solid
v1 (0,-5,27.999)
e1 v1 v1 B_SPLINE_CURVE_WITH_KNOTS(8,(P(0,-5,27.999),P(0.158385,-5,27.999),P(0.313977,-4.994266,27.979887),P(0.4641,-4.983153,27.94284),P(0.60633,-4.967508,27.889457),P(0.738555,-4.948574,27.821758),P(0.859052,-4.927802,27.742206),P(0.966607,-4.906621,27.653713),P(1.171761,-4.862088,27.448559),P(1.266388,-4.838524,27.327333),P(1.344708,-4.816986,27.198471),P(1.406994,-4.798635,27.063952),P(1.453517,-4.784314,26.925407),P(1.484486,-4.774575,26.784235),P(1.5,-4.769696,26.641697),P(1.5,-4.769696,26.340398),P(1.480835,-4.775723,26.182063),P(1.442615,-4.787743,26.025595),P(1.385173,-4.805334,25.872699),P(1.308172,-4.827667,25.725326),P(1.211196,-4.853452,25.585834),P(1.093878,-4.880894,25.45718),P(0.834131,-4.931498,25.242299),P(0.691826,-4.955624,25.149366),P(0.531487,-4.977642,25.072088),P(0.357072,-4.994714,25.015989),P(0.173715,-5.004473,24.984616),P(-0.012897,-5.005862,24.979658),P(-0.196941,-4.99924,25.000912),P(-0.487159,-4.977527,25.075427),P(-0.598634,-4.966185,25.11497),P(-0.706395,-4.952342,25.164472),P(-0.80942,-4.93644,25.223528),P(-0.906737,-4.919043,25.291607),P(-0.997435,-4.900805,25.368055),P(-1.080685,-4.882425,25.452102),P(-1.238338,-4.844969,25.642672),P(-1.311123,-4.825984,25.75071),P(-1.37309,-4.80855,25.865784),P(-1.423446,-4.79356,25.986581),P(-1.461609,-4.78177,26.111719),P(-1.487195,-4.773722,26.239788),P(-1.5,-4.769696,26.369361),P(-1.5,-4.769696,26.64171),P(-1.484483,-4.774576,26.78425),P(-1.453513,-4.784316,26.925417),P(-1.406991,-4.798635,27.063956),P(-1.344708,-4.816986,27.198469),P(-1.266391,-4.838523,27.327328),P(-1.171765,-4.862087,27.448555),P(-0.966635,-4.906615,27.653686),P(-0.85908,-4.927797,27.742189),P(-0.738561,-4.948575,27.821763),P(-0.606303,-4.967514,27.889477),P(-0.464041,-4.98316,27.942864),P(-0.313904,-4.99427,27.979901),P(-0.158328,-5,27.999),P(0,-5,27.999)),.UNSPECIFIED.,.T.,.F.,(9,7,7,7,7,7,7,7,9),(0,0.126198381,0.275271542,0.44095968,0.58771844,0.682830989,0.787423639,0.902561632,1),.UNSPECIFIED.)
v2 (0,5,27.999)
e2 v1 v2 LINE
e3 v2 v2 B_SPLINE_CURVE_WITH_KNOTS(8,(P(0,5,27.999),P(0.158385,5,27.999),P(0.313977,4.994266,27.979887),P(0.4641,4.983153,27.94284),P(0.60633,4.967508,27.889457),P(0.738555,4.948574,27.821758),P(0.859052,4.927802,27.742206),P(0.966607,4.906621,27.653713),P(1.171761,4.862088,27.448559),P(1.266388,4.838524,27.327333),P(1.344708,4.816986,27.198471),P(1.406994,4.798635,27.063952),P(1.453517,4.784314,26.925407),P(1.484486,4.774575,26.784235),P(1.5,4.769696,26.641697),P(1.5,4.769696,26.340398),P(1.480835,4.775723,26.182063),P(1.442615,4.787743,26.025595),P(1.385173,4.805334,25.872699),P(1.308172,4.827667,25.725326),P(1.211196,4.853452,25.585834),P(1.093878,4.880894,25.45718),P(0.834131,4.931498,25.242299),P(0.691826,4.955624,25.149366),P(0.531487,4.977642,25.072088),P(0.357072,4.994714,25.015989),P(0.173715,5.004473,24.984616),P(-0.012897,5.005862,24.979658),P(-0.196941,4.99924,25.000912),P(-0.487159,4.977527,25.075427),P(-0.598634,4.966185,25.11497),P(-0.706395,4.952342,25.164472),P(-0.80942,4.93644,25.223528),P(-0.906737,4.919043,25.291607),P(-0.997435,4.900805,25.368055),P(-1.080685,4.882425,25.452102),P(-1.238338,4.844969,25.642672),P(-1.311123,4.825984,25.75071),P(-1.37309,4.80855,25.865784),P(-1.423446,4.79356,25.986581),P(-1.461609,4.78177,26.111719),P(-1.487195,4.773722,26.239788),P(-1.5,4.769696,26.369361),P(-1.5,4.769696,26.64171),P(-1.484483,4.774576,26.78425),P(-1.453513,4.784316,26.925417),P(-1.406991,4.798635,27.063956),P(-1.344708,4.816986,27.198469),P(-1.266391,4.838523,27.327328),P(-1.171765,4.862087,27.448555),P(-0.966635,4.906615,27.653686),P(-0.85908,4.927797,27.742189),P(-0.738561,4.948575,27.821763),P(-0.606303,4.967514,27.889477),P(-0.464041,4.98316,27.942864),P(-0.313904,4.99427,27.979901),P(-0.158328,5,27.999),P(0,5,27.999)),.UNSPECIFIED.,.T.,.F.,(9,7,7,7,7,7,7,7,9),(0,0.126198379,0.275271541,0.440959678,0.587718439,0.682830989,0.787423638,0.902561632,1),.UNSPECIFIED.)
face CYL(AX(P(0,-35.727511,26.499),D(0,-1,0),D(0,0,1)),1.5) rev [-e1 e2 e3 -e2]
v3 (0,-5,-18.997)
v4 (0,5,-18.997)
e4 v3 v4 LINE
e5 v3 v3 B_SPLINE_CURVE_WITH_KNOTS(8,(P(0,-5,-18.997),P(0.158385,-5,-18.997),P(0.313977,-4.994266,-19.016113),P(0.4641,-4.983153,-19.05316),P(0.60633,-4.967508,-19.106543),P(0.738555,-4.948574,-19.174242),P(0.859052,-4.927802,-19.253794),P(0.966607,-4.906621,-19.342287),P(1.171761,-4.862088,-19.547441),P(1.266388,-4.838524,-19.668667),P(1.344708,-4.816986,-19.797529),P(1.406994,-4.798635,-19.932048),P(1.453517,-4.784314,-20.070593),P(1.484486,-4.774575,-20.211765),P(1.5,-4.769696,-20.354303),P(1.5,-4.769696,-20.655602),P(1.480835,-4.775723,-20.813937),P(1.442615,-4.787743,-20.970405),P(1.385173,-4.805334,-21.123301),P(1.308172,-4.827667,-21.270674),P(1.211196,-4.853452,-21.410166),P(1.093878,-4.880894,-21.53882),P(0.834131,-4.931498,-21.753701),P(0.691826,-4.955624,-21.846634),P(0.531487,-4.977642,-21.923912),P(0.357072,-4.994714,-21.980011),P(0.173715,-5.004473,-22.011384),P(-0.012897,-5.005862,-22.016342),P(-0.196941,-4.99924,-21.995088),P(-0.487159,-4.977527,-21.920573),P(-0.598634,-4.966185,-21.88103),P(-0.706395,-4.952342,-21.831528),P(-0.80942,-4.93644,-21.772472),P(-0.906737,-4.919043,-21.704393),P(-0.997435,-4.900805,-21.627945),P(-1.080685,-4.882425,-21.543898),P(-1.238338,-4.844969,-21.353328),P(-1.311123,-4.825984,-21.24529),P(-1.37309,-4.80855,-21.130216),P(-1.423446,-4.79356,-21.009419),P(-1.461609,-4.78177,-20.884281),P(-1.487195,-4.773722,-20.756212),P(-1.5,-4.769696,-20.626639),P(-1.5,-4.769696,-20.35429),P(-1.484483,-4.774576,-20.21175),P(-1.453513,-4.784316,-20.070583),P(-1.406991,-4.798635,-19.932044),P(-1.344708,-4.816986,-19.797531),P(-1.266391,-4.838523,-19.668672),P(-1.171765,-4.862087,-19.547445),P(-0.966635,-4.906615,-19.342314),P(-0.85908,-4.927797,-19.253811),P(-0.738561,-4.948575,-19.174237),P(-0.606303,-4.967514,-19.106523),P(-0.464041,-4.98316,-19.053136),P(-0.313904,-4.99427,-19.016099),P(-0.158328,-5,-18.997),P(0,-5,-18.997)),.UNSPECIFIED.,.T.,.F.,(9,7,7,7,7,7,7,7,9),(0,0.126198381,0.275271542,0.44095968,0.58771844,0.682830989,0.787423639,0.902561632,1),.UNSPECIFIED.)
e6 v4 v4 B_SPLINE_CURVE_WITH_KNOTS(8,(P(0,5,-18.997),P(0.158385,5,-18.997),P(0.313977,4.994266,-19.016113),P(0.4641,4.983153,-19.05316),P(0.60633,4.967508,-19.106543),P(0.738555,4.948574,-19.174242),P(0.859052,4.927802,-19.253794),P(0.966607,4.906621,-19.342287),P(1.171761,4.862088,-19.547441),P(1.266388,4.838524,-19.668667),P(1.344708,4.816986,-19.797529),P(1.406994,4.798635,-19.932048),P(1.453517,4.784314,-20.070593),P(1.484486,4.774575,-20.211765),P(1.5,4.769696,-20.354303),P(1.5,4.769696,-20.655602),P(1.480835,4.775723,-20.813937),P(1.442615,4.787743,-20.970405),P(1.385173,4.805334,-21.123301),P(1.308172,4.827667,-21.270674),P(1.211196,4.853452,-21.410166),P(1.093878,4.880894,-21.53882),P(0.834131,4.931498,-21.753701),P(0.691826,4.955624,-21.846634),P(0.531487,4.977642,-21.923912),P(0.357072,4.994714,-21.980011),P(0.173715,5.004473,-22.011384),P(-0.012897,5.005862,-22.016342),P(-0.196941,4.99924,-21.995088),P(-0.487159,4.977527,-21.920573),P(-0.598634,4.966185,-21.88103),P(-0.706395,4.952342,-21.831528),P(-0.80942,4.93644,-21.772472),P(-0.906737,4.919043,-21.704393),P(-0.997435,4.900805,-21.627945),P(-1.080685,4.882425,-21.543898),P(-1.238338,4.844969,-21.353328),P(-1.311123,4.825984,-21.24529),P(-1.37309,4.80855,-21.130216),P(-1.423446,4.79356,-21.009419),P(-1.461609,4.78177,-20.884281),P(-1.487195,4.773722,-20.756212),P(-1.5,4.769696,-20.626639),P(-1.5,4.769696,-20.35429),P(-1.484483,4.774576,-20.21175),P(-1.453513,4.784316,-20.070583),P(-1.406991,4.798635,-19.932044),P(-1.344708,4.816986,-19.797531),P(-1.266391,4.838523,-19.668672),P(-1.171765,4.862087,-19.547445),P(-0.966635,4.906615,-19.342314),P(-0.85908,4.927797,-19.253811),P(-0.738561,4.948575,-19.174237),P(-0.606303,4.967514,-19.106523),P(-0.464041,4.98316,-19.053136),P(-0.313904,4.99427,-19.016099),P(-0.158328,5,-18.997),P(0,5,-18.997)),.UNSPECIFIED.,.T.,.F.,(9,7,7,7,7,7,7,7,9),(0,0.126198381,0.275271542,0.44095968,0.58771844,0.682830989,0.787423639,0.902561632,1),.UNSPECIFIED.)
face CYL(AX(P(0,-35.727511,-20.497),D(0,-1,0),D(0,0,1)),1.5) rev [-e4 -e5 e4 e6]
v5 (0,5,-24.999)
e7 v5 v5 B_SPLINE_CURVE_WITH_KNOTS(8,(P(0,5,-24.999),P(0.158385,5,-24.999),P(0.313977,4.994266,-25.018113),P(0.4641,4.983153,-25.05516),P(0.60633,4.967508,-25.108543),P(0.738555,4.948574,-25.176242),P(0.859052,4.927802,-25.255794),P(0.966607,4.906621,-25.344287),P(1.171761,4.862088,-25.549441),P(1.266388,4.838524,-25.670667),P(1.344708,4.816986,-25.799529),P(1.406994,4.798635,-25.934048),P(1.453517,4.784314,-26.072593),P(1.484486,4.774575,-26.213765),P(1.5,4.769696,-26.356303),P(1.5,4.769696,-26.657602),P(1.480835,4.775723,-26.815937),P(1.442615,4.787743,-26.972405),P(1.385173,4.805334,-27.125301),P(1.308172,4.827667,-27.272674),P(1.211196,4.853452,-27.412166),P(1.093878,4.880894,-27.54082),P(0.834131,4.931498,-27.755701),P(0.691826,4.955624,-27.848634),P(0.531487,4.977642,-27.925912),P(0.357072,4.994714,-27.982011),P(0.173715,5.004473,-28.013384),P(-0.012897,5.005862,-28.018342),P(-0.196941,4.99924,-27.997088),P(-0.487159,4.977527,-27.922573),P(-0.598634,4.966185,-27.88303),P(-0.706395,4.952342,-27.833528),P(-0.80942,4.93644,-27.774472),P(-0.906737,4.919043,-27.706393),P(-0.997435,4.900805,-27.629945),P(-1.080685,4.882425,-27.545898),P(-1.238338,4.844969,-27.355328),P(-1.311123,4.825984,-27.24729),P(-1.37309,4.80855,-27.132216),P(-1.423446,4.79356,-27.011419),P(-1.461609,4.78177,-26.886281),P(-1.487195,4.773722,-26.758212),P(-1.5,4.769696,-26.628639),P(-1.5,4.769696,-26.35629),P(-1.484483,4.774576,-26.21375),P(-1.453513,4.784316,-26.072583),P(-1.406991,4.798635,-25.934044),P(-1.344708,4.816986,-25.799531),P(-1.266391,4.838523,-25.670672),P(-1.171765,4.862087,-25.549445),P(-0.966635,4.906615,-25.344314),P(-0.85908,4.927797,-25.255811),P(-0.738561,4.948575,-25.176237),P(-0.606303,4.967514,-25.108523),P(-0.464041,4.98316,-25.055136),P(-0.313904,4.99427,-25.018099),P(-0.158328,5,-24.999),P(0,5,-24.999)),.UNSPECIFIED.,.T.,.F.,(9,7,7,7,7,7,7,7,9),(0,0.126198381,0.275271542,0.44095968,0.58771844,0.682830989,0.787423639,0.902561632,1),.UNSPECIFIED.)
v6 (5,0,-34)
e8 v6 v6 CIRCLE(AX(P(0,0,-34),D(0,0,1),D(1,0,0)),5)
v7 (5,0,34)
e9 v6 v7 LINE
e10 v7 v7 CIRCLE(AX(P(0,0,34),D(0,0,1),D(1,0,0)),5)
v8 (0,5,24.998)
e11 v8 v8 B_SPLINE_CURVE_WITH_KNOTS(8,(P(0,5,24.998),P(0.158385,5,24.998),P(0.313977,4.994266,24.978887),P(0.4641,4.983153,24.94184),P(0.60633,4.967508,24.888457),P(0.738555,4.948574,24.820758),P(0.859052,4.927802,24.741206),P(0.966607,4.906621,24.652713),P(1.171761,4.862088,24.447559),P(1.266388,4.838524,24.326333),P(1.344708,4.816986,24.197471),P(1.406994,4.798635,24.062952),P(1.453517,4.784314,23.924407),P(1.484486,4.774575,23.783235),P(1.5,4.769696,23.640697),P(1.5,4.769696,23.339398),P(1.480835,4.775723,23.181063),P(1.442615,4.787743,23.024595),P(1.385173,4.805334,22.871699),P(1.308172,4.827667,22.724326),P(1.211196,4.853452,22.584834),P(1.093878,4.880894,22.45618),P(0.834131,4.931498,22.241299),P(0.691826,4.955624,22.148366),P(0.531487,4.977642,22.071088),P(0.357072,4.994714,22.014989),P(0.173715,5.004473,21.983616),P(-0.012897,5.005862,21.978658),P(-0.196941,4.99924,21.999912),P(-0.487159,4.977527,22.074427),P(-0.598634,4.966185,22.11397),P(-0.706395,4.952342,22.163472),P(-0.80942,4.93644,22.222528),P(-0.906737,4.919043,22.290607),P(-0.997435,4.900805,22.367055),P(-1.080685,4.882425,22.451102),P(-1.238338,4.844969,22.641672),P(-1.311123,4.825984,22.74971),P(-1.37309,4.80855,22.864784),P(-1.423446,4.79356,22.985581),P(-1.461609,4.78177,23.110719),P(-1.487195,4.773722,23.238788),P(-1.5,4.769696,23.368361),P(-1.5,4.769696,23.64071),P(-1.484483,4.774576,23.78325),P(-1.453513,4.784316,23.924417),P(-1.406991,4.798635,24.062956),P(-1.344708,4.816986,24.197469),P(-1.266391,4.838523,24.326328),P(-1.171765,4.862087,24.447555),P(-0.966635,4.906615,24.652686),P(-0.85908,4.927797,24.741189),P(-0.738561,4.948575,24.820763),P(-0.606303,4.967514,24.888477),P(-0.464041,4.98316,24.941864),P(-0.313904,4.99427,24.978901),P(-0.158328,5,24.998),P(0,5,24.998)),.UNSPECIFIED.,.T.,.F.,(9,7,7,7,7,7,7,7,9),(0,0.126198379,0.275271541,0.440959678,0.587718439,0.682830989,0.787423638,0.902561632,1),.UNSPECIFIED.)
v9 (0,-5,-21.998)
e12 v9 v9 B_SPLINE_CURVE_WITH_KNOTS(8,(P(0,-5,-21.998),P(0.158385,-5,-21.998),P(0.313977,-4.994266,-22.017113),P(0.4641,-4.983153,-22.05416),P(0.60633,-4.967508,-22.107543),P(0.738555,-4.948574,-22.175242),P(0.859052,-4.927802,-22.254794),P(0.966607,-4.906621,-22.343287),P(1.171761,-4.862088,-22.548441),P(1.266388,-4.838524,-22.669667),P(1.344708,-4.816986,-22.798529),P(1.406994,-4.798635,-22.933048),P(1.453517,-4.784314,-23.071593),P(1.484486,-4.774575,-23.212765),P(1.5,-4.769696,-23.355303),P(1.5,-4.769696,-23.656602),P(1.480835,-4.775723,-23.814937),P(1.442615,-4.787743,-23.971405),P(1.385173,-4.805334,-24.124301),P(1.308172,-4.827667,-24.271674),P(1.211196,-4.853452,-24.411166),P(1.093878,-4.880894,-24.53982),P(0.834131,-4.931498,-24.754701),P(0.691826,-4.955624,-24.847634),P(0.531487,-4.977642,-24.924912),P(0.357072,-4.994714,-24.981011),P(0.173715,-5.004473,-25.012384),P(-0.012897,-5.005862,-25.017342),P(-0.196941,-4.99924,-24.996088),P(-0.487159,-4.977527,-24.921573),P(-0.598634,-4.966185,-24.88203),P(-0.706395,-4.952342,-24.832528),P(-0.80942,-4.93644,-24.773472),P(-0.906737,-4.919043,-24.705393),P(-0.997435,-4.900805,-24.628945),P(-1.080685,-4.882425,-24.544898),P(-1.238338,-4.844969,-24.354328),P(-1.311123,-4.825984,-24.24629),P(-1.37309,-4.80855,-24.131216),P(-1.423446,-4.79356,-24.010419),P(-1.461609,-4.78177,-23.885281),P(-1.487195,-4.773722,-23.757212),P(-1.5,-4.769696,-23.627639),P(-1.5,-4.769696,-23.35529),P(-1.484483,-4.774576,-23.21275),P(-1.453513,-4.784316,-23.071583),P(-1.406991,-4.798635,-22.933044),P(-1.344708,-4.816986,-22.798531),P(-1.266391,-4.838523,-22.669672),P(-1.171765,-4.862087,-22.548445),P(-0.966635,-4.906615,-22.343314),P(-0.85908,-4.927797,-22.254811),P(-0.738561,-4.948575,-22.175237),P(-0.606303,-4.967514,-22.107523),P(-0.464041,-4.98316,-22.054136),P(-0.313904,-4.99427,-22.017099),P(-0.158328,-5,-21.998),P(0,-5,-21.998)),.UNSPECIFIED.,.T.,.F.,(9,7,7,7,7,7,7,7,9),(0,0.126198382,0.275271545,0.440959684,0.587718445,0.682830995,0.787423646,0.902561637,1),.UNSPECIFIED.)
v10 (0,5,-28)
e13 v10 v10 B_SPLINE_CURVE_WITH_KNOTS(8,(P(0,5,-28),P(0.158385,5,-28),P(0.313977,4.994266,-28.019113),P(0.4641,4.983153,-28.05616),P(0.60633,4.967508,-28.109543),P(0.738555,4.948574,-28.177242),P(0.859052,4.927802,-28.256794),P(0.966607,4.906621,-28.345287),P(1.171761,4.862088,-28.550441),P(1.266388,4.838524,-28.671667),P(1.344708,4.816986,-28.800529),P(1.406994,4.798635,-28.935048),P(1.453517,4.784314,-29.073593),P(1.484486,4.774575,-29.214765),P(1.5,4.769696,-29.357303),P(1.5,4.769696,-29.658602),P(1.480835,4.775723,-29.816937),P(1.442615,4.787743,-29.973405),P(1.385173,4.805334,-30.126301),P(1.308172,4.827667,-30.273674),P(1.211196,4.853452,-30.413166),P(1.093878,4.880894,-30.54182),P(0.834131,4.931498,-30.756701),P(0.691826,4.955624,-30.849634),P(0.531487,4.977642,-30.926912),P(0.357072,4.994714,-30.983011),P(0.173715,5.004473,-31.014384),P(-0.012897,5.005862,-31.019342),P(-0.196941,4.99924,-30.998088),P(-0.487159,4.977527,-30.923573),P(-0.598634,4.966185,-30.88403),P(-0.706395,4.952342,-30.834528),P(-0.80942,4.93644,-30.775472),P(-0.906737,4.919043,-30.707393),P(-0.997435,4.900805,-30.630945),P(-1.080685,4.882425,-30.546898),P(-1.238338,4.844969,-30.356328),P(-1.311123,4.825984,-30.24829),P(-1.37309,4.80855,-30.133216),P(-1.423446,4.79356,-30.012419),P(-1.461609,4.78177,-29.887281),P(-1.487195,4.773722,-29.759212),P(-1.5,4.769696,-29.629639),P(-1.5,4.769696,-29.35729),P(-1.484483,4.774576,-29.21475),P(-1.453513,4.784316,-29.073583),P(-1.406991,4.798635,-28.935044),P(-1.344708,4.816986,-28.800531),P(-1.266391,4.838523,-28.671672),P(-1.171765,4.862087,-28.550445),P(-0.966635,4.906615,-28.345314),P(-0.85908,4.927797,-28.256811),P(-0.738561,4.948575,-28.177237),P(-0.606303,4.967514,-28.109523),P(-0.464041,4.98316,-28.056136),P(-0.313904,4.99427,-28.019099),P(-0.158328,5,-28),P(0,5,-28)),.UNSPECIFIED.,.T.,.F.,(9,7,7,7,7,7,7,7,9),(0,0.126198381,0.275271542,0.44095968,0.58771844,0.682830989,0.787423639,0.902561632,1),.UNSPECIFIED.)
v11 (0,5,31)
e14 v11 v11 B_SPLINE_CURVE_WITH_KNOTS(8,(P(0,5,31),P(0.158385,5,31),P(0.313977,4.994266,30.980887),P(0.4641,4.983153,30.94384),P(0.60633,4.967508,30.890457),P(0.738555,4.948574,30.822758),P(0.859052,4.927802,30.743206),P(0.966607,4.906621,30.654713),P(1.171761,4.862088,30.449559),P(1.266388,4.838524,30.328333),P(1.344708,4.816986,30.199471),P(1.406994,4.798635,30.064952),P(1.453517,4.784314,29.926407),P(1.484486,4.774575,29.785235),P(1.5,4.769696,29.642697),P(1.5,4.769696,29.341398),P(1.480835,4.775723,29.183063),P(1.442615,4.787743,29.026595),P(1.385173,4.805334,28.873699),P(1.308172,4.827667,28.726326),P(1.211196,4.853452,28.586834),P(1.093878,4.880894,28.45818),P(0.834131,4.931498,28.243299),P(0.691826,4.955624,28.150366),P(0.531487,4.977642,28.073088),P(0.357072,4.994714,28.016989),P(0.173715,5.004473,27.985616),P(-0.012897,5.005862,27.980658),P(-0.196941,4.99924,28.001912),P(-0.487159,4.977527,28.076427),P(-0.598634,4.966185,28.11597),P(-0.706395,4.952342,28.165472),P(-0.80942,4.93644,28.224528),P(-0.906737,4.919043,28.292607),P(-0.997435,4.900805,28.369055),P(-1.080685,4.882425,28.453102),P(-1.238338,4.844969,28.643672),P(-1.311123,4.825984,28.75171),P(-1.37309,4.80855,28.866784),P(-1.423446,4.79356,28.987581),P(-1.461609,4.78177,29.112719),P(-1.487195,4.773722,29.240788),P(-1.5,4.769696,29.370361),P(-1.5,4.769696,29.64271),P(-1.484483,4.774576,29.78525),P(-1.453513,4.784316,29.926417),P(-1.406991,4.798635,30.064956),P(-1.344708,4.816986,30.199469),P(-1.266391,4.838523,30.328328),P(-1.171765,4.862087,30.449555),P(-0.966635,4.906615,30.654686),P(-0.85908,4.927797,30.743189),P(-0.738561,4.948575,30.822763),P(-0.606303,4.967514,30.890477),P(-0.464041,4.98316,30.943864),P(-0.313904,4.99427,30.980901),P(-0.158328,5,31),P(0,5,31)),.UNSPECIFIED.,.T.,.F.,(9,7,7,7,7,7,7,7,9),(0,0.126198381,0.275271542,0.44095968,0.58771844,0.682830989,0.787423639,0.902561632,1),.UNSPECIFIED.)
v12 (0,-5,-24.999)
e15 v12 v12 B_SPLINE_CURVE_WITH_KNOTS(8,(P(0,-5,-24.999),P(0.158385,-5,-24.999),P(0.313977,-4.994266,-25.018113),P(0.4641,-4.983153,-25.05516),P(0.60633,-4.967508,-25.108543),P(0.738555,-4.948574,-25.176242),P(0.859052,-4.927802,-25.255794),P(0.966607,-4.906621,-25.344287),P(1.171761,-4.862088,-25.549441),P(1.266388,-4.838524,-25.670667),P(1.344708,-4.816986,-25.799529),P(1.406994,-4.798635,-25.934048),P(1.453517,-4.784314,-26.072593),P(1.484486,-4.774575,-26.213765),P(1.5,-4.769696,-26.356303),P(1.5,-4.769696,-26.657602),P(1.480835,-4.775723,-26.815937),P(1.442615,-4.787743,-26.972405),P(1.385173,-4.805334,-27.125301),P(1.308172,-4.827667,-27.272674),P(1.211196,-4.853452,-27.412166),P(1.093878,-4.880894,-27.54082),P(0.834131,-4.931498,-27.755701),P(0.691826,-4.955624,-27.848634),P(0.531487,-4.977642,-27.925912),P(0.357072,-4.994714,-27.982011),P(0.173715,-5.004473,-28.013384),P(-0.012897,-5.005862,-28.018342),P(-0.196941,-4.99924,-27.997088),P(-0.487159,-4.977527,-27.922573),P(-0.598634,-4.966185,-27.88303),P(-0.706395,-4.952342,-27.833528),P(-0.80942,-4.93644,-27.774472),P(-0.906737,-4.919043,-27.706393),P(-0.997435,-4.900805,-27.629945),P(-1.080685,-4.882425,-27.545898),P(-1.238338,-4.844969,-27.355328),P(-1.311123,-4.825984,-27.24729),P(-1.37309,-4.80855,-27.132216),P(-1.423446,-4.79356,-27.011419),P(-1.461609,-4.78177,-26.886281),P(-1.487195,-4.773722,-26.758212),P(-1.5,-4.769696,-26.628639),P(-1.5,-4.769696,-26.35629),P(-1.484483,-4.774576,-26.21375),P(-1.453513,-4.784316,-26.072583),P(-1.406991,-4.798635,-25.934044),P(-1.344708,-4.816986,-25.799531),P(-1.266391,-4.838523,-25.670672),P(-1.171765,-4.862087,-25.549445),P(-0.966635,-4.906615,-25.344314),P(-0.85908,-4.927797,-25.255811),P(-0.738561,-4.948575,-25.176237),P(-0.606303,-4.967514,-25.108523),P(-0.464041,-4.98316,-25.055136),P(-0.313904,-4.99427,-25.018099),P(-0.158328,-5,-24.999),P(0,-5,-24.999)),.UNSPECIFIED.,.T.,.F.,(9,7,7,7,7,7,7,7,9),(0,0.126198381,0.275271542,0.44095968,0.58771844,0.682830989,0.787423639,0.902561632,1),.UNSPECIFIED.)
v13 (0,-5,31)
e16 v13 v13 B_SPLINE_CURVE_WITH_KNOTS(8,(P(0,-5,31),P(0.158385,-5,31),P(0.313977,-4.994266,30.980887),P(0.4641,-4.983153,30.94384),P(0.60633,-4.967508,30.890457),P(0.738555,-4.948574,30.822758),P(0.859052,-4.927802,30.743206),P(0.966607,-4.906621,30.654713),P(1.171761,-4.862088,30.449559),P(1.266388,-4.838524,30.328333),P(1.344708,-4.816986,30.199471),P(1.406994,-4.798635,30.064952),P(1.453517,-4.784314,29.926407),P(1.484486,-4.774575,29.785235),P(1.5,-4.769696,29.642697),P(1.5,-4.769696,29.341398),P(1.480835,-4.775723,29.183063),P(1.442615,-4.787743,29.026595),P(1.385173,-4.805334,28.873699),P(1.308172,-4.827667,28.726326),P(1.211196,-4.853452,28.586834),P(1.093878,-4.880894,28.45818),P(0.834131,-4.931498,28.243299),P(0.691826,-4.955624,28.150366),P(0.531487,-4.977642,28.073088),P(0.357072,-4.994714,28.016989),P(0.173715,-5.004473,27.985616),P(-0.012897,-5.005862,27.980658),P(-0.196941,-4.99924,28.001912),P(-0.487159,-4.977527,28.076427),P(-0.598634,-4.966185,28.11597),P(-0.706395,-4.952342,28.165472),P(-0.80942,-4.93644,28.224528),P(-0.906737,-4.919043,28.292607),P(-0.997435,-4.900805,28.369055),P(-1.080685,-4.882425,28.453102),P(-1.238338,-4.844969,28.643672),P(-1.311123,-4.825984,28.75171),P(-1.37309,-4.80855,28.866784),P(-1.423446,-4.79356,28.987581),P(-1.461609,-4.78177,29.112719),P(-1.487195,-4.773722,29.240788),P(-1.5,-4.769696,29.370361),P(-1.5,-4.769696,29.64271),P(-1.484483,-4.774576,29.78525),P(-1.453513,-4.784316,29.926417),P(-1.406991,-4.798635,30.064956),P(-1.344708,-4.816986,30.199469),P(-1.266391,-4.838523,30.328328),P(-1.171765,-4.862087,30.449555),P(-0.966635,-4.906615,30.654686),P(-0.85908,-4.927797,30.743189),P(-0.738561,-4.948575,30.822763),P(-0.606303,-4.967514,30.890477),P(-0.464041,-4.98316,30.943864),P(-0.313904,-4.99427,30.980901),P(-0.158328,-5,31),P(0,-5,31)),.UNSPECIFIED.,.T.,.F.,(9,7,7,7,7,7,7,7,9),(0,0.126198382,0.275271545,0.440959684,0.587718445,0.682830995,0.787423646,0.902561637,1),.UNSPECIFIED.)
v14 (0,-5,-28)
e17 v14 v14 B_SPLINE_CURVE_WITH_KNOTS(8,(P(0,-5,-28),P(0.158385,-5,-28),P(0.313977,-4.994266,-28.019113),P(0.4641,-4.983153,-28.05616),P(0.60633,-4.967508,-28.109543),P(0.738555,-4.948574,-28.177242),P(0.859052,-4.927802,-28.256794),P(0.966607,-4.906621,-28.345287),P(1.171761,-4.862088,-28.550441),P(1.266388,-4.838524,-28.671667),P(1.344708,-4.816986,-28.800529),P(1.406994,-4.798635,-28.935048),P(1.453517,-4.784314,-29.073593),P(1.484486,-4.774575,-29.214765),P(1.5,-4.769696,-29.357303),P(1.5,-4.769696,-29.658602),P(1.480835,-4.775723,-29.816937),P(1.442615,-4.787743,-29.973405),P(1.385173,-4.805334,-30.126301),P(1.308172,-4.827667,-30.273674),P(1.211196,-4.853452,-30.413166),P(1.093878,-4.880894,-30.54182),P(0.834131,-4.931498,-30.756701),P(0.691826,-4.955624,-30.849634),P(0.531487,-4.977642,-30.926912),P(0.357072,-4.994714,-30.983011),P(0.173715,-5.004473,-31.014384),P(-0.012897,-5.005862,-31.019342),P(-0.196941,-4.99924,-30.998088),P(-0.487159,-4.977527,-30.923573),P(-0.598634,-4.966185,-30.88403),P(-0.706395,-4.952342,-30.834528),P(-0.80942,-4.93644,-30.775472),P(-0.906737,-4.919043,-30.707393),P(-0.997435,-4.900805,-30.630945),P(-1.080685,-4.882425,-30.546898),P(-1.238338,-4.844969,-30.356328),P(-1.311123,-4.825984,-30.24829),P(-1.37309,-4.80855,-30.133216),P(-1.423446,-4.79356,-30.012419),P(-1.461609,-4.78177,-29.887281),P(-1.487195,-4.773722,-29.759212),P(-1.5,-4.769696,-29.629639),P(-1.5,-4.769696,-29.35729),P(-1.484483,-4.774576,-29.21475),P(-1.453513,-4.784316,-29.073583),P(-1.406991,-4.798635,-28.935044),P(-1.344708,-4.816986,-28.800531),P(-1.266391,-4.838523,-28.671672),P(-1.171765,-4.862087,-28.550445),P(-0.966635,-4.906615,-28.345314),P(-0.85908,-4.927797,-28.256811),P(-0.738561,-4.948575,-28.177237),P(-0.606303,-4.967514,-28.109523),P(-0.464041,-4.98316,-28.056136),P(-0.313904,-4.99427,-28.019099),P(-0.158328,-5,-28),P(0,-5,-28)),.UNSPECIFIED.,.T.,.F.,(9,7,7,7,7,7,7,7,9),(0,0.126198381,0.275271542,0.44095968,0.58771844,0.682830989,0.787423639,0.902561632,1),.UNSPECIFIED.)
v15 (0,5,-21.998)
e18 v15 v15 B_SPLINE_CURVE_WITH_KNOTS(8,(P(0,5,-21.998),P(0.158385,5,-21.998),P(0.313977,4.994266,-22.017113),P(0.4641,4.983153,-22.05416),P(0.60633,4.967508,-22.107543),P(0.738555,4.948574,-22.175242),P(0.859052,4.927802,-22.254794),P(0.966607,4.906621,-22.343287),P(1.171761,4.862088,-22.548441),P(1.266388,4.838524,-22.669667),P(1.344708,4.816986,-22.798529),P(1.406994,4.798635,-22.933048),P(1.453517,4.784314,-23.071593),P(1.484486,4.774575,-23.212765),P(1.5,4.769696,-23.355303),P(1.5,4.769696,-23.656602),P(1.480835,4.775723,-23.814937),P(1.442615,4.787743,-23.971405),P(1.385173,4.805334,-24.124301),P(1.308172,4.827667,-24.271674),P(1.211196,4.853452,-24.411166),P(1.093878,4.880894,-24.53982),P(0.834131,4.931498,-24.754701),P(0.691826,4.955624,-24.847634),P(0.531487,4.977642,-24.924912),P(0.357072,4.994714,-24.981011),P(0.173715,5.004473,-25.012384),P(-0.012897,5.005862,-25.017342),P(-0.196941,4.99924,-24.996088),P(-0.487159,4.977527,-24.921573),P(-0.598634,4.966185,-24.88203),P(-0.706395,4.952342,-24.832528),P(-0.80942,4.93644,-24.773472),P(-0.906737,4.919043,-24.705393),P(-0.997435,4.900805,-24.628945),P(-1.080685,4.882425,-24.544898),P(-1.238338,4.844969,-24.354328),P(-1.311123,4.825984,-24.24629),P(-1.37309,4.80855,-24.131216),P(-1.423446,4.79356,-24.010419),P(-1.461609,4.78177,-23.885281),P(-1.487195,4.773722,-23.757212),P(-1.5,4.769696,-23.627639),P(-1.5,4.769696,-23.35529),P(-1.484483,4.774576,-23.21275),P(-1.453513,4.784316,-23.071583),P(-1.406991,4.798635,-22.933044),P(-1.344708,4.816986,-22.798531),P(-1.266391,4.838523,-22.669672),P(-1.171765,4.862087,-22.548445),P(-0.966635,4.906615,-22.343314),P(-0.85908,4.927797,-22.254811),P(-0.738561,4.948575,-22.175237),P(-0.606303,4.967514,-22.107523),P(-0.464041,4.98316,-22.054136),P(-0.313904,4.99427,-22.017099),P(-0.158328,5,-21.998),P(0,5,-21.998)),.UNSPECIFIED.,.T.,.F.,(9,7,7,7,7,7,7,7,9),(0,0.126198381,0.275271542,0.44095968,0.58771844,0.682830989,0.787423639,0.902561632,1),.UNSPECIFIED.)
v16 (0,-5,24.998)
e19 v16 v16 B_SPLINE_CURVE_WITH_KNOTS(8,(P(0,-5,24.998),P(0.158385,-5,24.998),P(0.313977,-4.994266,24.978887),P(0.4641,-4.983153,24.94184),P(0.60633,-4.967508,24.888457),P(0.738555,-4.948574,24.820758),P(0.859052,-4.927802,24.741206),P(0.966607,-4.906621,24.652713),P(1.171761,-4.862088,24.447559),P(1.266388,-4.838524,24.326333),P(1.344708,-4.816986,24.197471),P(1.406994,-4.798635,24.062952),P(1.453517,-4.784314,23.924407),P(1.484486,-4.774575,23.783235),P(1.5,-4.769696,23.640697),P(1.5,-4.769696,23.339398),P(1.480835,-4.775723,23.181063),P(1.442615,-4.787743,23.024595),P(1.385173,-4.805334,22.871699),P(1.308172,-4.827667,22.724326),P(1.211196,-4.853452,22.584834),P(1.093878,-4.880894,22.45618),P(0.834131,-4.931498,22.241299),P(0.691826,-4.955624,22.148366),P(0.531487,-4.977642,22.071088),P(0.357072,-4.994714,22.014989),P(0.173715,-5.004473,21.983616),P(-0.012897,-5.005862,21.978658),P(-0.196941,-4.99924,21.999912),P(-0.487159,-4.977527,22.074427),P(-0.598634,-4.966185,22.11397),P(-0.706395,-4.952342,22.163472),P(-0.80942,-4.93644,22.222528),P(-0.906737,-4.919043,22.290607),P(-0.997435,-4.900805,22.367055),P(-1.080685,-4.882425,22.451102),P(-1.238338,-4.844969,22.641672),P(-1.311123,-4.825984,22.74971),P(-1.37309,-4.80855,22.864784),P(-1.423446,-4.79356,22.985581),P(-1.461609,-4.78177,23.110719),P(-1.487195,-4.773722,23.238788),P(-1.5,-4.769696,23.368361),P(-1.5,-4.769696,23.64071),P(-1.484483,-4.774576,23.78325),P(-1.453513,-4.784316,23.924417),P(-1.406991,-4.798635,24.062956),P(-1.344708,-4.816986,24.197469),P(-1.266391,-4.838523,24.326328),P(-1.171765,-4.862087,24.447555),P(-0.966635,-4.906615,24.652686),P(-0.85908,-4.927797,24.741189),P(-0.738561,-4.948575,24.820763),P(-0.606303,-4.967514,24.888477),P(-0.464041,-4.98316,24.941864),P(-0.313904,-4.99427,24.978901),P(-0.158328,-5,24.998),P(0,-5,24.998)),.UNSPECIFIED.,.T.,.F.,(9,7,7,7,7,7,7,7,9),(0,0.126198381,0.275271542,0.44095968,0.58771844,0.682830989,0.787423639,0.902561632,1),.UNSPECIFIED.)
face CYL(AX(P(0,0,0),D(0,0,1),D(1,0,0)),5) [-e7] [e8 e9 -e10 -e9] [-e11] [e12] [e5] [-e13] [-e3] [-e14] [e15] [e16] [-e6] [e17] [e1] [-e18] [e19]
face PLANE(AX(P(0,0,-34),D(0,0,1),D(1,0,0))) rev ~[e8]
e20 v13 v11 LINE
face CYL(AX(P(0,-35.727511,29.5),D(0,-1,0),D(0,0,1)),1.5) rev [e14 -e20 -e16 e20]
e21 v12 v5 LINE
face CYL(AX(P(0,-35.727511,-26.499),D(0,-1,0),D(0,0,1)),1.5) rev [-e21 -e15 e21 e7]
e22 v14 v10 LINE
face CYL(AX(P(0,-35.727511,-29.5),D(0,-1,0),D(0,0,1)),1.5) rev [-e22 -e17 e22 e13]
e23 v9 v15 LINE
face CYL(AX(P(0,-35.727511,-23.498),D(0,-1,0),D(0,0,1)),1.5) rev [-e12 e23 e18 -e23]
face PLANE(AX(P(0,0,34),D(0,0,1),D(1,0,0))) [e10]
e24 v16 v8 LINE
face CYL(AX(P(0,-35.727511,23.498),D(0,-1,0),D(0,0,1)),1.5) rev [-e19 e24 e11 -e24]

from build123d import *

# Parameters (mm, degrees)
SKETCH1_R           = 5
BOSS_EXTRUDE1_DEPTH = 34
CUT_EXTRUDE1_START  = -35.727510708
SKETCH2_R           = 1.5
CUT_EXTRUDE1_DEPTH  = 66.455021417
LPATTERN3_COUNT     = 3
LPATTERN3_PITCH     = 3.001
CUT_EXTRUDE2_START  = -35.727510835
SKETCH3_R           = 1.5
CUT_EXTRUDE2_DEPTH  = 66.45502167
LPATTERN4_COUNT     = 4
LPATTERN4_PITCH     = 3.001


with BuildPart() as part:
    # Sketch1 → Boss-Extrude1 (new, symmetric)
    with BuildSketch(Plane.XY):
        Circle(SKETCH1_R)
    extrude(amount=BOSS_EXTRUDE1_DEPTH, both=True)

    # Sketch2 → Cut-Extrude1 (cut)
    with BuildSketch(Plane(origin=(0, 0, 0), x_dir=(1, 0, 0), z_dir=(0, 1, 0)).offset(CUT_EXTRUDE1_START)):
        with Locations(Location((0, -29.5, 0), (0, 0, 270))):
            Circle(SKETCH2_R)
    cut_extrude1 = extrude(amount=CUT_EXTRUDE1_DEPTH, mode=Mode.SUBTRACT)

    # LPattern3: Cut-Extrude1 ×3
    with Locations(*[(0, 0, -i * LPATTERN3_PITCH) for i in range(1, LPATTERN3_COUNT)]):
        add(cut_extrude1, mode=Mode.SUBTRACT)

    # Sketch3 → Cut-Extrude2 (cut)
    with BuildSketch(Plane(origin=(0, 0, 0), x_dir=(1, 0, 0), z_dir=(0, 1, 0)).offset(CUT_EXTRUDE2_START)):
        with Locations(Location((0, 29.5, 0), (0, 0, 270))):
            Circle(SKETCH3_R)
    cut_extrude2 = extrude(amount=CUT_EXTRUDE2_DEPTH, mode=Mode.SUBTRACT)

    # LPattern4: Cut-Extrude2 ×4
    with Locations(*[(0, 0, i * LPATTERN4_PITCH) for i in range(1, LPATTERN4_COUNT)]):
        add(cut_extrude2, mode=Mode.SUBTRACT)


solid = part.part
